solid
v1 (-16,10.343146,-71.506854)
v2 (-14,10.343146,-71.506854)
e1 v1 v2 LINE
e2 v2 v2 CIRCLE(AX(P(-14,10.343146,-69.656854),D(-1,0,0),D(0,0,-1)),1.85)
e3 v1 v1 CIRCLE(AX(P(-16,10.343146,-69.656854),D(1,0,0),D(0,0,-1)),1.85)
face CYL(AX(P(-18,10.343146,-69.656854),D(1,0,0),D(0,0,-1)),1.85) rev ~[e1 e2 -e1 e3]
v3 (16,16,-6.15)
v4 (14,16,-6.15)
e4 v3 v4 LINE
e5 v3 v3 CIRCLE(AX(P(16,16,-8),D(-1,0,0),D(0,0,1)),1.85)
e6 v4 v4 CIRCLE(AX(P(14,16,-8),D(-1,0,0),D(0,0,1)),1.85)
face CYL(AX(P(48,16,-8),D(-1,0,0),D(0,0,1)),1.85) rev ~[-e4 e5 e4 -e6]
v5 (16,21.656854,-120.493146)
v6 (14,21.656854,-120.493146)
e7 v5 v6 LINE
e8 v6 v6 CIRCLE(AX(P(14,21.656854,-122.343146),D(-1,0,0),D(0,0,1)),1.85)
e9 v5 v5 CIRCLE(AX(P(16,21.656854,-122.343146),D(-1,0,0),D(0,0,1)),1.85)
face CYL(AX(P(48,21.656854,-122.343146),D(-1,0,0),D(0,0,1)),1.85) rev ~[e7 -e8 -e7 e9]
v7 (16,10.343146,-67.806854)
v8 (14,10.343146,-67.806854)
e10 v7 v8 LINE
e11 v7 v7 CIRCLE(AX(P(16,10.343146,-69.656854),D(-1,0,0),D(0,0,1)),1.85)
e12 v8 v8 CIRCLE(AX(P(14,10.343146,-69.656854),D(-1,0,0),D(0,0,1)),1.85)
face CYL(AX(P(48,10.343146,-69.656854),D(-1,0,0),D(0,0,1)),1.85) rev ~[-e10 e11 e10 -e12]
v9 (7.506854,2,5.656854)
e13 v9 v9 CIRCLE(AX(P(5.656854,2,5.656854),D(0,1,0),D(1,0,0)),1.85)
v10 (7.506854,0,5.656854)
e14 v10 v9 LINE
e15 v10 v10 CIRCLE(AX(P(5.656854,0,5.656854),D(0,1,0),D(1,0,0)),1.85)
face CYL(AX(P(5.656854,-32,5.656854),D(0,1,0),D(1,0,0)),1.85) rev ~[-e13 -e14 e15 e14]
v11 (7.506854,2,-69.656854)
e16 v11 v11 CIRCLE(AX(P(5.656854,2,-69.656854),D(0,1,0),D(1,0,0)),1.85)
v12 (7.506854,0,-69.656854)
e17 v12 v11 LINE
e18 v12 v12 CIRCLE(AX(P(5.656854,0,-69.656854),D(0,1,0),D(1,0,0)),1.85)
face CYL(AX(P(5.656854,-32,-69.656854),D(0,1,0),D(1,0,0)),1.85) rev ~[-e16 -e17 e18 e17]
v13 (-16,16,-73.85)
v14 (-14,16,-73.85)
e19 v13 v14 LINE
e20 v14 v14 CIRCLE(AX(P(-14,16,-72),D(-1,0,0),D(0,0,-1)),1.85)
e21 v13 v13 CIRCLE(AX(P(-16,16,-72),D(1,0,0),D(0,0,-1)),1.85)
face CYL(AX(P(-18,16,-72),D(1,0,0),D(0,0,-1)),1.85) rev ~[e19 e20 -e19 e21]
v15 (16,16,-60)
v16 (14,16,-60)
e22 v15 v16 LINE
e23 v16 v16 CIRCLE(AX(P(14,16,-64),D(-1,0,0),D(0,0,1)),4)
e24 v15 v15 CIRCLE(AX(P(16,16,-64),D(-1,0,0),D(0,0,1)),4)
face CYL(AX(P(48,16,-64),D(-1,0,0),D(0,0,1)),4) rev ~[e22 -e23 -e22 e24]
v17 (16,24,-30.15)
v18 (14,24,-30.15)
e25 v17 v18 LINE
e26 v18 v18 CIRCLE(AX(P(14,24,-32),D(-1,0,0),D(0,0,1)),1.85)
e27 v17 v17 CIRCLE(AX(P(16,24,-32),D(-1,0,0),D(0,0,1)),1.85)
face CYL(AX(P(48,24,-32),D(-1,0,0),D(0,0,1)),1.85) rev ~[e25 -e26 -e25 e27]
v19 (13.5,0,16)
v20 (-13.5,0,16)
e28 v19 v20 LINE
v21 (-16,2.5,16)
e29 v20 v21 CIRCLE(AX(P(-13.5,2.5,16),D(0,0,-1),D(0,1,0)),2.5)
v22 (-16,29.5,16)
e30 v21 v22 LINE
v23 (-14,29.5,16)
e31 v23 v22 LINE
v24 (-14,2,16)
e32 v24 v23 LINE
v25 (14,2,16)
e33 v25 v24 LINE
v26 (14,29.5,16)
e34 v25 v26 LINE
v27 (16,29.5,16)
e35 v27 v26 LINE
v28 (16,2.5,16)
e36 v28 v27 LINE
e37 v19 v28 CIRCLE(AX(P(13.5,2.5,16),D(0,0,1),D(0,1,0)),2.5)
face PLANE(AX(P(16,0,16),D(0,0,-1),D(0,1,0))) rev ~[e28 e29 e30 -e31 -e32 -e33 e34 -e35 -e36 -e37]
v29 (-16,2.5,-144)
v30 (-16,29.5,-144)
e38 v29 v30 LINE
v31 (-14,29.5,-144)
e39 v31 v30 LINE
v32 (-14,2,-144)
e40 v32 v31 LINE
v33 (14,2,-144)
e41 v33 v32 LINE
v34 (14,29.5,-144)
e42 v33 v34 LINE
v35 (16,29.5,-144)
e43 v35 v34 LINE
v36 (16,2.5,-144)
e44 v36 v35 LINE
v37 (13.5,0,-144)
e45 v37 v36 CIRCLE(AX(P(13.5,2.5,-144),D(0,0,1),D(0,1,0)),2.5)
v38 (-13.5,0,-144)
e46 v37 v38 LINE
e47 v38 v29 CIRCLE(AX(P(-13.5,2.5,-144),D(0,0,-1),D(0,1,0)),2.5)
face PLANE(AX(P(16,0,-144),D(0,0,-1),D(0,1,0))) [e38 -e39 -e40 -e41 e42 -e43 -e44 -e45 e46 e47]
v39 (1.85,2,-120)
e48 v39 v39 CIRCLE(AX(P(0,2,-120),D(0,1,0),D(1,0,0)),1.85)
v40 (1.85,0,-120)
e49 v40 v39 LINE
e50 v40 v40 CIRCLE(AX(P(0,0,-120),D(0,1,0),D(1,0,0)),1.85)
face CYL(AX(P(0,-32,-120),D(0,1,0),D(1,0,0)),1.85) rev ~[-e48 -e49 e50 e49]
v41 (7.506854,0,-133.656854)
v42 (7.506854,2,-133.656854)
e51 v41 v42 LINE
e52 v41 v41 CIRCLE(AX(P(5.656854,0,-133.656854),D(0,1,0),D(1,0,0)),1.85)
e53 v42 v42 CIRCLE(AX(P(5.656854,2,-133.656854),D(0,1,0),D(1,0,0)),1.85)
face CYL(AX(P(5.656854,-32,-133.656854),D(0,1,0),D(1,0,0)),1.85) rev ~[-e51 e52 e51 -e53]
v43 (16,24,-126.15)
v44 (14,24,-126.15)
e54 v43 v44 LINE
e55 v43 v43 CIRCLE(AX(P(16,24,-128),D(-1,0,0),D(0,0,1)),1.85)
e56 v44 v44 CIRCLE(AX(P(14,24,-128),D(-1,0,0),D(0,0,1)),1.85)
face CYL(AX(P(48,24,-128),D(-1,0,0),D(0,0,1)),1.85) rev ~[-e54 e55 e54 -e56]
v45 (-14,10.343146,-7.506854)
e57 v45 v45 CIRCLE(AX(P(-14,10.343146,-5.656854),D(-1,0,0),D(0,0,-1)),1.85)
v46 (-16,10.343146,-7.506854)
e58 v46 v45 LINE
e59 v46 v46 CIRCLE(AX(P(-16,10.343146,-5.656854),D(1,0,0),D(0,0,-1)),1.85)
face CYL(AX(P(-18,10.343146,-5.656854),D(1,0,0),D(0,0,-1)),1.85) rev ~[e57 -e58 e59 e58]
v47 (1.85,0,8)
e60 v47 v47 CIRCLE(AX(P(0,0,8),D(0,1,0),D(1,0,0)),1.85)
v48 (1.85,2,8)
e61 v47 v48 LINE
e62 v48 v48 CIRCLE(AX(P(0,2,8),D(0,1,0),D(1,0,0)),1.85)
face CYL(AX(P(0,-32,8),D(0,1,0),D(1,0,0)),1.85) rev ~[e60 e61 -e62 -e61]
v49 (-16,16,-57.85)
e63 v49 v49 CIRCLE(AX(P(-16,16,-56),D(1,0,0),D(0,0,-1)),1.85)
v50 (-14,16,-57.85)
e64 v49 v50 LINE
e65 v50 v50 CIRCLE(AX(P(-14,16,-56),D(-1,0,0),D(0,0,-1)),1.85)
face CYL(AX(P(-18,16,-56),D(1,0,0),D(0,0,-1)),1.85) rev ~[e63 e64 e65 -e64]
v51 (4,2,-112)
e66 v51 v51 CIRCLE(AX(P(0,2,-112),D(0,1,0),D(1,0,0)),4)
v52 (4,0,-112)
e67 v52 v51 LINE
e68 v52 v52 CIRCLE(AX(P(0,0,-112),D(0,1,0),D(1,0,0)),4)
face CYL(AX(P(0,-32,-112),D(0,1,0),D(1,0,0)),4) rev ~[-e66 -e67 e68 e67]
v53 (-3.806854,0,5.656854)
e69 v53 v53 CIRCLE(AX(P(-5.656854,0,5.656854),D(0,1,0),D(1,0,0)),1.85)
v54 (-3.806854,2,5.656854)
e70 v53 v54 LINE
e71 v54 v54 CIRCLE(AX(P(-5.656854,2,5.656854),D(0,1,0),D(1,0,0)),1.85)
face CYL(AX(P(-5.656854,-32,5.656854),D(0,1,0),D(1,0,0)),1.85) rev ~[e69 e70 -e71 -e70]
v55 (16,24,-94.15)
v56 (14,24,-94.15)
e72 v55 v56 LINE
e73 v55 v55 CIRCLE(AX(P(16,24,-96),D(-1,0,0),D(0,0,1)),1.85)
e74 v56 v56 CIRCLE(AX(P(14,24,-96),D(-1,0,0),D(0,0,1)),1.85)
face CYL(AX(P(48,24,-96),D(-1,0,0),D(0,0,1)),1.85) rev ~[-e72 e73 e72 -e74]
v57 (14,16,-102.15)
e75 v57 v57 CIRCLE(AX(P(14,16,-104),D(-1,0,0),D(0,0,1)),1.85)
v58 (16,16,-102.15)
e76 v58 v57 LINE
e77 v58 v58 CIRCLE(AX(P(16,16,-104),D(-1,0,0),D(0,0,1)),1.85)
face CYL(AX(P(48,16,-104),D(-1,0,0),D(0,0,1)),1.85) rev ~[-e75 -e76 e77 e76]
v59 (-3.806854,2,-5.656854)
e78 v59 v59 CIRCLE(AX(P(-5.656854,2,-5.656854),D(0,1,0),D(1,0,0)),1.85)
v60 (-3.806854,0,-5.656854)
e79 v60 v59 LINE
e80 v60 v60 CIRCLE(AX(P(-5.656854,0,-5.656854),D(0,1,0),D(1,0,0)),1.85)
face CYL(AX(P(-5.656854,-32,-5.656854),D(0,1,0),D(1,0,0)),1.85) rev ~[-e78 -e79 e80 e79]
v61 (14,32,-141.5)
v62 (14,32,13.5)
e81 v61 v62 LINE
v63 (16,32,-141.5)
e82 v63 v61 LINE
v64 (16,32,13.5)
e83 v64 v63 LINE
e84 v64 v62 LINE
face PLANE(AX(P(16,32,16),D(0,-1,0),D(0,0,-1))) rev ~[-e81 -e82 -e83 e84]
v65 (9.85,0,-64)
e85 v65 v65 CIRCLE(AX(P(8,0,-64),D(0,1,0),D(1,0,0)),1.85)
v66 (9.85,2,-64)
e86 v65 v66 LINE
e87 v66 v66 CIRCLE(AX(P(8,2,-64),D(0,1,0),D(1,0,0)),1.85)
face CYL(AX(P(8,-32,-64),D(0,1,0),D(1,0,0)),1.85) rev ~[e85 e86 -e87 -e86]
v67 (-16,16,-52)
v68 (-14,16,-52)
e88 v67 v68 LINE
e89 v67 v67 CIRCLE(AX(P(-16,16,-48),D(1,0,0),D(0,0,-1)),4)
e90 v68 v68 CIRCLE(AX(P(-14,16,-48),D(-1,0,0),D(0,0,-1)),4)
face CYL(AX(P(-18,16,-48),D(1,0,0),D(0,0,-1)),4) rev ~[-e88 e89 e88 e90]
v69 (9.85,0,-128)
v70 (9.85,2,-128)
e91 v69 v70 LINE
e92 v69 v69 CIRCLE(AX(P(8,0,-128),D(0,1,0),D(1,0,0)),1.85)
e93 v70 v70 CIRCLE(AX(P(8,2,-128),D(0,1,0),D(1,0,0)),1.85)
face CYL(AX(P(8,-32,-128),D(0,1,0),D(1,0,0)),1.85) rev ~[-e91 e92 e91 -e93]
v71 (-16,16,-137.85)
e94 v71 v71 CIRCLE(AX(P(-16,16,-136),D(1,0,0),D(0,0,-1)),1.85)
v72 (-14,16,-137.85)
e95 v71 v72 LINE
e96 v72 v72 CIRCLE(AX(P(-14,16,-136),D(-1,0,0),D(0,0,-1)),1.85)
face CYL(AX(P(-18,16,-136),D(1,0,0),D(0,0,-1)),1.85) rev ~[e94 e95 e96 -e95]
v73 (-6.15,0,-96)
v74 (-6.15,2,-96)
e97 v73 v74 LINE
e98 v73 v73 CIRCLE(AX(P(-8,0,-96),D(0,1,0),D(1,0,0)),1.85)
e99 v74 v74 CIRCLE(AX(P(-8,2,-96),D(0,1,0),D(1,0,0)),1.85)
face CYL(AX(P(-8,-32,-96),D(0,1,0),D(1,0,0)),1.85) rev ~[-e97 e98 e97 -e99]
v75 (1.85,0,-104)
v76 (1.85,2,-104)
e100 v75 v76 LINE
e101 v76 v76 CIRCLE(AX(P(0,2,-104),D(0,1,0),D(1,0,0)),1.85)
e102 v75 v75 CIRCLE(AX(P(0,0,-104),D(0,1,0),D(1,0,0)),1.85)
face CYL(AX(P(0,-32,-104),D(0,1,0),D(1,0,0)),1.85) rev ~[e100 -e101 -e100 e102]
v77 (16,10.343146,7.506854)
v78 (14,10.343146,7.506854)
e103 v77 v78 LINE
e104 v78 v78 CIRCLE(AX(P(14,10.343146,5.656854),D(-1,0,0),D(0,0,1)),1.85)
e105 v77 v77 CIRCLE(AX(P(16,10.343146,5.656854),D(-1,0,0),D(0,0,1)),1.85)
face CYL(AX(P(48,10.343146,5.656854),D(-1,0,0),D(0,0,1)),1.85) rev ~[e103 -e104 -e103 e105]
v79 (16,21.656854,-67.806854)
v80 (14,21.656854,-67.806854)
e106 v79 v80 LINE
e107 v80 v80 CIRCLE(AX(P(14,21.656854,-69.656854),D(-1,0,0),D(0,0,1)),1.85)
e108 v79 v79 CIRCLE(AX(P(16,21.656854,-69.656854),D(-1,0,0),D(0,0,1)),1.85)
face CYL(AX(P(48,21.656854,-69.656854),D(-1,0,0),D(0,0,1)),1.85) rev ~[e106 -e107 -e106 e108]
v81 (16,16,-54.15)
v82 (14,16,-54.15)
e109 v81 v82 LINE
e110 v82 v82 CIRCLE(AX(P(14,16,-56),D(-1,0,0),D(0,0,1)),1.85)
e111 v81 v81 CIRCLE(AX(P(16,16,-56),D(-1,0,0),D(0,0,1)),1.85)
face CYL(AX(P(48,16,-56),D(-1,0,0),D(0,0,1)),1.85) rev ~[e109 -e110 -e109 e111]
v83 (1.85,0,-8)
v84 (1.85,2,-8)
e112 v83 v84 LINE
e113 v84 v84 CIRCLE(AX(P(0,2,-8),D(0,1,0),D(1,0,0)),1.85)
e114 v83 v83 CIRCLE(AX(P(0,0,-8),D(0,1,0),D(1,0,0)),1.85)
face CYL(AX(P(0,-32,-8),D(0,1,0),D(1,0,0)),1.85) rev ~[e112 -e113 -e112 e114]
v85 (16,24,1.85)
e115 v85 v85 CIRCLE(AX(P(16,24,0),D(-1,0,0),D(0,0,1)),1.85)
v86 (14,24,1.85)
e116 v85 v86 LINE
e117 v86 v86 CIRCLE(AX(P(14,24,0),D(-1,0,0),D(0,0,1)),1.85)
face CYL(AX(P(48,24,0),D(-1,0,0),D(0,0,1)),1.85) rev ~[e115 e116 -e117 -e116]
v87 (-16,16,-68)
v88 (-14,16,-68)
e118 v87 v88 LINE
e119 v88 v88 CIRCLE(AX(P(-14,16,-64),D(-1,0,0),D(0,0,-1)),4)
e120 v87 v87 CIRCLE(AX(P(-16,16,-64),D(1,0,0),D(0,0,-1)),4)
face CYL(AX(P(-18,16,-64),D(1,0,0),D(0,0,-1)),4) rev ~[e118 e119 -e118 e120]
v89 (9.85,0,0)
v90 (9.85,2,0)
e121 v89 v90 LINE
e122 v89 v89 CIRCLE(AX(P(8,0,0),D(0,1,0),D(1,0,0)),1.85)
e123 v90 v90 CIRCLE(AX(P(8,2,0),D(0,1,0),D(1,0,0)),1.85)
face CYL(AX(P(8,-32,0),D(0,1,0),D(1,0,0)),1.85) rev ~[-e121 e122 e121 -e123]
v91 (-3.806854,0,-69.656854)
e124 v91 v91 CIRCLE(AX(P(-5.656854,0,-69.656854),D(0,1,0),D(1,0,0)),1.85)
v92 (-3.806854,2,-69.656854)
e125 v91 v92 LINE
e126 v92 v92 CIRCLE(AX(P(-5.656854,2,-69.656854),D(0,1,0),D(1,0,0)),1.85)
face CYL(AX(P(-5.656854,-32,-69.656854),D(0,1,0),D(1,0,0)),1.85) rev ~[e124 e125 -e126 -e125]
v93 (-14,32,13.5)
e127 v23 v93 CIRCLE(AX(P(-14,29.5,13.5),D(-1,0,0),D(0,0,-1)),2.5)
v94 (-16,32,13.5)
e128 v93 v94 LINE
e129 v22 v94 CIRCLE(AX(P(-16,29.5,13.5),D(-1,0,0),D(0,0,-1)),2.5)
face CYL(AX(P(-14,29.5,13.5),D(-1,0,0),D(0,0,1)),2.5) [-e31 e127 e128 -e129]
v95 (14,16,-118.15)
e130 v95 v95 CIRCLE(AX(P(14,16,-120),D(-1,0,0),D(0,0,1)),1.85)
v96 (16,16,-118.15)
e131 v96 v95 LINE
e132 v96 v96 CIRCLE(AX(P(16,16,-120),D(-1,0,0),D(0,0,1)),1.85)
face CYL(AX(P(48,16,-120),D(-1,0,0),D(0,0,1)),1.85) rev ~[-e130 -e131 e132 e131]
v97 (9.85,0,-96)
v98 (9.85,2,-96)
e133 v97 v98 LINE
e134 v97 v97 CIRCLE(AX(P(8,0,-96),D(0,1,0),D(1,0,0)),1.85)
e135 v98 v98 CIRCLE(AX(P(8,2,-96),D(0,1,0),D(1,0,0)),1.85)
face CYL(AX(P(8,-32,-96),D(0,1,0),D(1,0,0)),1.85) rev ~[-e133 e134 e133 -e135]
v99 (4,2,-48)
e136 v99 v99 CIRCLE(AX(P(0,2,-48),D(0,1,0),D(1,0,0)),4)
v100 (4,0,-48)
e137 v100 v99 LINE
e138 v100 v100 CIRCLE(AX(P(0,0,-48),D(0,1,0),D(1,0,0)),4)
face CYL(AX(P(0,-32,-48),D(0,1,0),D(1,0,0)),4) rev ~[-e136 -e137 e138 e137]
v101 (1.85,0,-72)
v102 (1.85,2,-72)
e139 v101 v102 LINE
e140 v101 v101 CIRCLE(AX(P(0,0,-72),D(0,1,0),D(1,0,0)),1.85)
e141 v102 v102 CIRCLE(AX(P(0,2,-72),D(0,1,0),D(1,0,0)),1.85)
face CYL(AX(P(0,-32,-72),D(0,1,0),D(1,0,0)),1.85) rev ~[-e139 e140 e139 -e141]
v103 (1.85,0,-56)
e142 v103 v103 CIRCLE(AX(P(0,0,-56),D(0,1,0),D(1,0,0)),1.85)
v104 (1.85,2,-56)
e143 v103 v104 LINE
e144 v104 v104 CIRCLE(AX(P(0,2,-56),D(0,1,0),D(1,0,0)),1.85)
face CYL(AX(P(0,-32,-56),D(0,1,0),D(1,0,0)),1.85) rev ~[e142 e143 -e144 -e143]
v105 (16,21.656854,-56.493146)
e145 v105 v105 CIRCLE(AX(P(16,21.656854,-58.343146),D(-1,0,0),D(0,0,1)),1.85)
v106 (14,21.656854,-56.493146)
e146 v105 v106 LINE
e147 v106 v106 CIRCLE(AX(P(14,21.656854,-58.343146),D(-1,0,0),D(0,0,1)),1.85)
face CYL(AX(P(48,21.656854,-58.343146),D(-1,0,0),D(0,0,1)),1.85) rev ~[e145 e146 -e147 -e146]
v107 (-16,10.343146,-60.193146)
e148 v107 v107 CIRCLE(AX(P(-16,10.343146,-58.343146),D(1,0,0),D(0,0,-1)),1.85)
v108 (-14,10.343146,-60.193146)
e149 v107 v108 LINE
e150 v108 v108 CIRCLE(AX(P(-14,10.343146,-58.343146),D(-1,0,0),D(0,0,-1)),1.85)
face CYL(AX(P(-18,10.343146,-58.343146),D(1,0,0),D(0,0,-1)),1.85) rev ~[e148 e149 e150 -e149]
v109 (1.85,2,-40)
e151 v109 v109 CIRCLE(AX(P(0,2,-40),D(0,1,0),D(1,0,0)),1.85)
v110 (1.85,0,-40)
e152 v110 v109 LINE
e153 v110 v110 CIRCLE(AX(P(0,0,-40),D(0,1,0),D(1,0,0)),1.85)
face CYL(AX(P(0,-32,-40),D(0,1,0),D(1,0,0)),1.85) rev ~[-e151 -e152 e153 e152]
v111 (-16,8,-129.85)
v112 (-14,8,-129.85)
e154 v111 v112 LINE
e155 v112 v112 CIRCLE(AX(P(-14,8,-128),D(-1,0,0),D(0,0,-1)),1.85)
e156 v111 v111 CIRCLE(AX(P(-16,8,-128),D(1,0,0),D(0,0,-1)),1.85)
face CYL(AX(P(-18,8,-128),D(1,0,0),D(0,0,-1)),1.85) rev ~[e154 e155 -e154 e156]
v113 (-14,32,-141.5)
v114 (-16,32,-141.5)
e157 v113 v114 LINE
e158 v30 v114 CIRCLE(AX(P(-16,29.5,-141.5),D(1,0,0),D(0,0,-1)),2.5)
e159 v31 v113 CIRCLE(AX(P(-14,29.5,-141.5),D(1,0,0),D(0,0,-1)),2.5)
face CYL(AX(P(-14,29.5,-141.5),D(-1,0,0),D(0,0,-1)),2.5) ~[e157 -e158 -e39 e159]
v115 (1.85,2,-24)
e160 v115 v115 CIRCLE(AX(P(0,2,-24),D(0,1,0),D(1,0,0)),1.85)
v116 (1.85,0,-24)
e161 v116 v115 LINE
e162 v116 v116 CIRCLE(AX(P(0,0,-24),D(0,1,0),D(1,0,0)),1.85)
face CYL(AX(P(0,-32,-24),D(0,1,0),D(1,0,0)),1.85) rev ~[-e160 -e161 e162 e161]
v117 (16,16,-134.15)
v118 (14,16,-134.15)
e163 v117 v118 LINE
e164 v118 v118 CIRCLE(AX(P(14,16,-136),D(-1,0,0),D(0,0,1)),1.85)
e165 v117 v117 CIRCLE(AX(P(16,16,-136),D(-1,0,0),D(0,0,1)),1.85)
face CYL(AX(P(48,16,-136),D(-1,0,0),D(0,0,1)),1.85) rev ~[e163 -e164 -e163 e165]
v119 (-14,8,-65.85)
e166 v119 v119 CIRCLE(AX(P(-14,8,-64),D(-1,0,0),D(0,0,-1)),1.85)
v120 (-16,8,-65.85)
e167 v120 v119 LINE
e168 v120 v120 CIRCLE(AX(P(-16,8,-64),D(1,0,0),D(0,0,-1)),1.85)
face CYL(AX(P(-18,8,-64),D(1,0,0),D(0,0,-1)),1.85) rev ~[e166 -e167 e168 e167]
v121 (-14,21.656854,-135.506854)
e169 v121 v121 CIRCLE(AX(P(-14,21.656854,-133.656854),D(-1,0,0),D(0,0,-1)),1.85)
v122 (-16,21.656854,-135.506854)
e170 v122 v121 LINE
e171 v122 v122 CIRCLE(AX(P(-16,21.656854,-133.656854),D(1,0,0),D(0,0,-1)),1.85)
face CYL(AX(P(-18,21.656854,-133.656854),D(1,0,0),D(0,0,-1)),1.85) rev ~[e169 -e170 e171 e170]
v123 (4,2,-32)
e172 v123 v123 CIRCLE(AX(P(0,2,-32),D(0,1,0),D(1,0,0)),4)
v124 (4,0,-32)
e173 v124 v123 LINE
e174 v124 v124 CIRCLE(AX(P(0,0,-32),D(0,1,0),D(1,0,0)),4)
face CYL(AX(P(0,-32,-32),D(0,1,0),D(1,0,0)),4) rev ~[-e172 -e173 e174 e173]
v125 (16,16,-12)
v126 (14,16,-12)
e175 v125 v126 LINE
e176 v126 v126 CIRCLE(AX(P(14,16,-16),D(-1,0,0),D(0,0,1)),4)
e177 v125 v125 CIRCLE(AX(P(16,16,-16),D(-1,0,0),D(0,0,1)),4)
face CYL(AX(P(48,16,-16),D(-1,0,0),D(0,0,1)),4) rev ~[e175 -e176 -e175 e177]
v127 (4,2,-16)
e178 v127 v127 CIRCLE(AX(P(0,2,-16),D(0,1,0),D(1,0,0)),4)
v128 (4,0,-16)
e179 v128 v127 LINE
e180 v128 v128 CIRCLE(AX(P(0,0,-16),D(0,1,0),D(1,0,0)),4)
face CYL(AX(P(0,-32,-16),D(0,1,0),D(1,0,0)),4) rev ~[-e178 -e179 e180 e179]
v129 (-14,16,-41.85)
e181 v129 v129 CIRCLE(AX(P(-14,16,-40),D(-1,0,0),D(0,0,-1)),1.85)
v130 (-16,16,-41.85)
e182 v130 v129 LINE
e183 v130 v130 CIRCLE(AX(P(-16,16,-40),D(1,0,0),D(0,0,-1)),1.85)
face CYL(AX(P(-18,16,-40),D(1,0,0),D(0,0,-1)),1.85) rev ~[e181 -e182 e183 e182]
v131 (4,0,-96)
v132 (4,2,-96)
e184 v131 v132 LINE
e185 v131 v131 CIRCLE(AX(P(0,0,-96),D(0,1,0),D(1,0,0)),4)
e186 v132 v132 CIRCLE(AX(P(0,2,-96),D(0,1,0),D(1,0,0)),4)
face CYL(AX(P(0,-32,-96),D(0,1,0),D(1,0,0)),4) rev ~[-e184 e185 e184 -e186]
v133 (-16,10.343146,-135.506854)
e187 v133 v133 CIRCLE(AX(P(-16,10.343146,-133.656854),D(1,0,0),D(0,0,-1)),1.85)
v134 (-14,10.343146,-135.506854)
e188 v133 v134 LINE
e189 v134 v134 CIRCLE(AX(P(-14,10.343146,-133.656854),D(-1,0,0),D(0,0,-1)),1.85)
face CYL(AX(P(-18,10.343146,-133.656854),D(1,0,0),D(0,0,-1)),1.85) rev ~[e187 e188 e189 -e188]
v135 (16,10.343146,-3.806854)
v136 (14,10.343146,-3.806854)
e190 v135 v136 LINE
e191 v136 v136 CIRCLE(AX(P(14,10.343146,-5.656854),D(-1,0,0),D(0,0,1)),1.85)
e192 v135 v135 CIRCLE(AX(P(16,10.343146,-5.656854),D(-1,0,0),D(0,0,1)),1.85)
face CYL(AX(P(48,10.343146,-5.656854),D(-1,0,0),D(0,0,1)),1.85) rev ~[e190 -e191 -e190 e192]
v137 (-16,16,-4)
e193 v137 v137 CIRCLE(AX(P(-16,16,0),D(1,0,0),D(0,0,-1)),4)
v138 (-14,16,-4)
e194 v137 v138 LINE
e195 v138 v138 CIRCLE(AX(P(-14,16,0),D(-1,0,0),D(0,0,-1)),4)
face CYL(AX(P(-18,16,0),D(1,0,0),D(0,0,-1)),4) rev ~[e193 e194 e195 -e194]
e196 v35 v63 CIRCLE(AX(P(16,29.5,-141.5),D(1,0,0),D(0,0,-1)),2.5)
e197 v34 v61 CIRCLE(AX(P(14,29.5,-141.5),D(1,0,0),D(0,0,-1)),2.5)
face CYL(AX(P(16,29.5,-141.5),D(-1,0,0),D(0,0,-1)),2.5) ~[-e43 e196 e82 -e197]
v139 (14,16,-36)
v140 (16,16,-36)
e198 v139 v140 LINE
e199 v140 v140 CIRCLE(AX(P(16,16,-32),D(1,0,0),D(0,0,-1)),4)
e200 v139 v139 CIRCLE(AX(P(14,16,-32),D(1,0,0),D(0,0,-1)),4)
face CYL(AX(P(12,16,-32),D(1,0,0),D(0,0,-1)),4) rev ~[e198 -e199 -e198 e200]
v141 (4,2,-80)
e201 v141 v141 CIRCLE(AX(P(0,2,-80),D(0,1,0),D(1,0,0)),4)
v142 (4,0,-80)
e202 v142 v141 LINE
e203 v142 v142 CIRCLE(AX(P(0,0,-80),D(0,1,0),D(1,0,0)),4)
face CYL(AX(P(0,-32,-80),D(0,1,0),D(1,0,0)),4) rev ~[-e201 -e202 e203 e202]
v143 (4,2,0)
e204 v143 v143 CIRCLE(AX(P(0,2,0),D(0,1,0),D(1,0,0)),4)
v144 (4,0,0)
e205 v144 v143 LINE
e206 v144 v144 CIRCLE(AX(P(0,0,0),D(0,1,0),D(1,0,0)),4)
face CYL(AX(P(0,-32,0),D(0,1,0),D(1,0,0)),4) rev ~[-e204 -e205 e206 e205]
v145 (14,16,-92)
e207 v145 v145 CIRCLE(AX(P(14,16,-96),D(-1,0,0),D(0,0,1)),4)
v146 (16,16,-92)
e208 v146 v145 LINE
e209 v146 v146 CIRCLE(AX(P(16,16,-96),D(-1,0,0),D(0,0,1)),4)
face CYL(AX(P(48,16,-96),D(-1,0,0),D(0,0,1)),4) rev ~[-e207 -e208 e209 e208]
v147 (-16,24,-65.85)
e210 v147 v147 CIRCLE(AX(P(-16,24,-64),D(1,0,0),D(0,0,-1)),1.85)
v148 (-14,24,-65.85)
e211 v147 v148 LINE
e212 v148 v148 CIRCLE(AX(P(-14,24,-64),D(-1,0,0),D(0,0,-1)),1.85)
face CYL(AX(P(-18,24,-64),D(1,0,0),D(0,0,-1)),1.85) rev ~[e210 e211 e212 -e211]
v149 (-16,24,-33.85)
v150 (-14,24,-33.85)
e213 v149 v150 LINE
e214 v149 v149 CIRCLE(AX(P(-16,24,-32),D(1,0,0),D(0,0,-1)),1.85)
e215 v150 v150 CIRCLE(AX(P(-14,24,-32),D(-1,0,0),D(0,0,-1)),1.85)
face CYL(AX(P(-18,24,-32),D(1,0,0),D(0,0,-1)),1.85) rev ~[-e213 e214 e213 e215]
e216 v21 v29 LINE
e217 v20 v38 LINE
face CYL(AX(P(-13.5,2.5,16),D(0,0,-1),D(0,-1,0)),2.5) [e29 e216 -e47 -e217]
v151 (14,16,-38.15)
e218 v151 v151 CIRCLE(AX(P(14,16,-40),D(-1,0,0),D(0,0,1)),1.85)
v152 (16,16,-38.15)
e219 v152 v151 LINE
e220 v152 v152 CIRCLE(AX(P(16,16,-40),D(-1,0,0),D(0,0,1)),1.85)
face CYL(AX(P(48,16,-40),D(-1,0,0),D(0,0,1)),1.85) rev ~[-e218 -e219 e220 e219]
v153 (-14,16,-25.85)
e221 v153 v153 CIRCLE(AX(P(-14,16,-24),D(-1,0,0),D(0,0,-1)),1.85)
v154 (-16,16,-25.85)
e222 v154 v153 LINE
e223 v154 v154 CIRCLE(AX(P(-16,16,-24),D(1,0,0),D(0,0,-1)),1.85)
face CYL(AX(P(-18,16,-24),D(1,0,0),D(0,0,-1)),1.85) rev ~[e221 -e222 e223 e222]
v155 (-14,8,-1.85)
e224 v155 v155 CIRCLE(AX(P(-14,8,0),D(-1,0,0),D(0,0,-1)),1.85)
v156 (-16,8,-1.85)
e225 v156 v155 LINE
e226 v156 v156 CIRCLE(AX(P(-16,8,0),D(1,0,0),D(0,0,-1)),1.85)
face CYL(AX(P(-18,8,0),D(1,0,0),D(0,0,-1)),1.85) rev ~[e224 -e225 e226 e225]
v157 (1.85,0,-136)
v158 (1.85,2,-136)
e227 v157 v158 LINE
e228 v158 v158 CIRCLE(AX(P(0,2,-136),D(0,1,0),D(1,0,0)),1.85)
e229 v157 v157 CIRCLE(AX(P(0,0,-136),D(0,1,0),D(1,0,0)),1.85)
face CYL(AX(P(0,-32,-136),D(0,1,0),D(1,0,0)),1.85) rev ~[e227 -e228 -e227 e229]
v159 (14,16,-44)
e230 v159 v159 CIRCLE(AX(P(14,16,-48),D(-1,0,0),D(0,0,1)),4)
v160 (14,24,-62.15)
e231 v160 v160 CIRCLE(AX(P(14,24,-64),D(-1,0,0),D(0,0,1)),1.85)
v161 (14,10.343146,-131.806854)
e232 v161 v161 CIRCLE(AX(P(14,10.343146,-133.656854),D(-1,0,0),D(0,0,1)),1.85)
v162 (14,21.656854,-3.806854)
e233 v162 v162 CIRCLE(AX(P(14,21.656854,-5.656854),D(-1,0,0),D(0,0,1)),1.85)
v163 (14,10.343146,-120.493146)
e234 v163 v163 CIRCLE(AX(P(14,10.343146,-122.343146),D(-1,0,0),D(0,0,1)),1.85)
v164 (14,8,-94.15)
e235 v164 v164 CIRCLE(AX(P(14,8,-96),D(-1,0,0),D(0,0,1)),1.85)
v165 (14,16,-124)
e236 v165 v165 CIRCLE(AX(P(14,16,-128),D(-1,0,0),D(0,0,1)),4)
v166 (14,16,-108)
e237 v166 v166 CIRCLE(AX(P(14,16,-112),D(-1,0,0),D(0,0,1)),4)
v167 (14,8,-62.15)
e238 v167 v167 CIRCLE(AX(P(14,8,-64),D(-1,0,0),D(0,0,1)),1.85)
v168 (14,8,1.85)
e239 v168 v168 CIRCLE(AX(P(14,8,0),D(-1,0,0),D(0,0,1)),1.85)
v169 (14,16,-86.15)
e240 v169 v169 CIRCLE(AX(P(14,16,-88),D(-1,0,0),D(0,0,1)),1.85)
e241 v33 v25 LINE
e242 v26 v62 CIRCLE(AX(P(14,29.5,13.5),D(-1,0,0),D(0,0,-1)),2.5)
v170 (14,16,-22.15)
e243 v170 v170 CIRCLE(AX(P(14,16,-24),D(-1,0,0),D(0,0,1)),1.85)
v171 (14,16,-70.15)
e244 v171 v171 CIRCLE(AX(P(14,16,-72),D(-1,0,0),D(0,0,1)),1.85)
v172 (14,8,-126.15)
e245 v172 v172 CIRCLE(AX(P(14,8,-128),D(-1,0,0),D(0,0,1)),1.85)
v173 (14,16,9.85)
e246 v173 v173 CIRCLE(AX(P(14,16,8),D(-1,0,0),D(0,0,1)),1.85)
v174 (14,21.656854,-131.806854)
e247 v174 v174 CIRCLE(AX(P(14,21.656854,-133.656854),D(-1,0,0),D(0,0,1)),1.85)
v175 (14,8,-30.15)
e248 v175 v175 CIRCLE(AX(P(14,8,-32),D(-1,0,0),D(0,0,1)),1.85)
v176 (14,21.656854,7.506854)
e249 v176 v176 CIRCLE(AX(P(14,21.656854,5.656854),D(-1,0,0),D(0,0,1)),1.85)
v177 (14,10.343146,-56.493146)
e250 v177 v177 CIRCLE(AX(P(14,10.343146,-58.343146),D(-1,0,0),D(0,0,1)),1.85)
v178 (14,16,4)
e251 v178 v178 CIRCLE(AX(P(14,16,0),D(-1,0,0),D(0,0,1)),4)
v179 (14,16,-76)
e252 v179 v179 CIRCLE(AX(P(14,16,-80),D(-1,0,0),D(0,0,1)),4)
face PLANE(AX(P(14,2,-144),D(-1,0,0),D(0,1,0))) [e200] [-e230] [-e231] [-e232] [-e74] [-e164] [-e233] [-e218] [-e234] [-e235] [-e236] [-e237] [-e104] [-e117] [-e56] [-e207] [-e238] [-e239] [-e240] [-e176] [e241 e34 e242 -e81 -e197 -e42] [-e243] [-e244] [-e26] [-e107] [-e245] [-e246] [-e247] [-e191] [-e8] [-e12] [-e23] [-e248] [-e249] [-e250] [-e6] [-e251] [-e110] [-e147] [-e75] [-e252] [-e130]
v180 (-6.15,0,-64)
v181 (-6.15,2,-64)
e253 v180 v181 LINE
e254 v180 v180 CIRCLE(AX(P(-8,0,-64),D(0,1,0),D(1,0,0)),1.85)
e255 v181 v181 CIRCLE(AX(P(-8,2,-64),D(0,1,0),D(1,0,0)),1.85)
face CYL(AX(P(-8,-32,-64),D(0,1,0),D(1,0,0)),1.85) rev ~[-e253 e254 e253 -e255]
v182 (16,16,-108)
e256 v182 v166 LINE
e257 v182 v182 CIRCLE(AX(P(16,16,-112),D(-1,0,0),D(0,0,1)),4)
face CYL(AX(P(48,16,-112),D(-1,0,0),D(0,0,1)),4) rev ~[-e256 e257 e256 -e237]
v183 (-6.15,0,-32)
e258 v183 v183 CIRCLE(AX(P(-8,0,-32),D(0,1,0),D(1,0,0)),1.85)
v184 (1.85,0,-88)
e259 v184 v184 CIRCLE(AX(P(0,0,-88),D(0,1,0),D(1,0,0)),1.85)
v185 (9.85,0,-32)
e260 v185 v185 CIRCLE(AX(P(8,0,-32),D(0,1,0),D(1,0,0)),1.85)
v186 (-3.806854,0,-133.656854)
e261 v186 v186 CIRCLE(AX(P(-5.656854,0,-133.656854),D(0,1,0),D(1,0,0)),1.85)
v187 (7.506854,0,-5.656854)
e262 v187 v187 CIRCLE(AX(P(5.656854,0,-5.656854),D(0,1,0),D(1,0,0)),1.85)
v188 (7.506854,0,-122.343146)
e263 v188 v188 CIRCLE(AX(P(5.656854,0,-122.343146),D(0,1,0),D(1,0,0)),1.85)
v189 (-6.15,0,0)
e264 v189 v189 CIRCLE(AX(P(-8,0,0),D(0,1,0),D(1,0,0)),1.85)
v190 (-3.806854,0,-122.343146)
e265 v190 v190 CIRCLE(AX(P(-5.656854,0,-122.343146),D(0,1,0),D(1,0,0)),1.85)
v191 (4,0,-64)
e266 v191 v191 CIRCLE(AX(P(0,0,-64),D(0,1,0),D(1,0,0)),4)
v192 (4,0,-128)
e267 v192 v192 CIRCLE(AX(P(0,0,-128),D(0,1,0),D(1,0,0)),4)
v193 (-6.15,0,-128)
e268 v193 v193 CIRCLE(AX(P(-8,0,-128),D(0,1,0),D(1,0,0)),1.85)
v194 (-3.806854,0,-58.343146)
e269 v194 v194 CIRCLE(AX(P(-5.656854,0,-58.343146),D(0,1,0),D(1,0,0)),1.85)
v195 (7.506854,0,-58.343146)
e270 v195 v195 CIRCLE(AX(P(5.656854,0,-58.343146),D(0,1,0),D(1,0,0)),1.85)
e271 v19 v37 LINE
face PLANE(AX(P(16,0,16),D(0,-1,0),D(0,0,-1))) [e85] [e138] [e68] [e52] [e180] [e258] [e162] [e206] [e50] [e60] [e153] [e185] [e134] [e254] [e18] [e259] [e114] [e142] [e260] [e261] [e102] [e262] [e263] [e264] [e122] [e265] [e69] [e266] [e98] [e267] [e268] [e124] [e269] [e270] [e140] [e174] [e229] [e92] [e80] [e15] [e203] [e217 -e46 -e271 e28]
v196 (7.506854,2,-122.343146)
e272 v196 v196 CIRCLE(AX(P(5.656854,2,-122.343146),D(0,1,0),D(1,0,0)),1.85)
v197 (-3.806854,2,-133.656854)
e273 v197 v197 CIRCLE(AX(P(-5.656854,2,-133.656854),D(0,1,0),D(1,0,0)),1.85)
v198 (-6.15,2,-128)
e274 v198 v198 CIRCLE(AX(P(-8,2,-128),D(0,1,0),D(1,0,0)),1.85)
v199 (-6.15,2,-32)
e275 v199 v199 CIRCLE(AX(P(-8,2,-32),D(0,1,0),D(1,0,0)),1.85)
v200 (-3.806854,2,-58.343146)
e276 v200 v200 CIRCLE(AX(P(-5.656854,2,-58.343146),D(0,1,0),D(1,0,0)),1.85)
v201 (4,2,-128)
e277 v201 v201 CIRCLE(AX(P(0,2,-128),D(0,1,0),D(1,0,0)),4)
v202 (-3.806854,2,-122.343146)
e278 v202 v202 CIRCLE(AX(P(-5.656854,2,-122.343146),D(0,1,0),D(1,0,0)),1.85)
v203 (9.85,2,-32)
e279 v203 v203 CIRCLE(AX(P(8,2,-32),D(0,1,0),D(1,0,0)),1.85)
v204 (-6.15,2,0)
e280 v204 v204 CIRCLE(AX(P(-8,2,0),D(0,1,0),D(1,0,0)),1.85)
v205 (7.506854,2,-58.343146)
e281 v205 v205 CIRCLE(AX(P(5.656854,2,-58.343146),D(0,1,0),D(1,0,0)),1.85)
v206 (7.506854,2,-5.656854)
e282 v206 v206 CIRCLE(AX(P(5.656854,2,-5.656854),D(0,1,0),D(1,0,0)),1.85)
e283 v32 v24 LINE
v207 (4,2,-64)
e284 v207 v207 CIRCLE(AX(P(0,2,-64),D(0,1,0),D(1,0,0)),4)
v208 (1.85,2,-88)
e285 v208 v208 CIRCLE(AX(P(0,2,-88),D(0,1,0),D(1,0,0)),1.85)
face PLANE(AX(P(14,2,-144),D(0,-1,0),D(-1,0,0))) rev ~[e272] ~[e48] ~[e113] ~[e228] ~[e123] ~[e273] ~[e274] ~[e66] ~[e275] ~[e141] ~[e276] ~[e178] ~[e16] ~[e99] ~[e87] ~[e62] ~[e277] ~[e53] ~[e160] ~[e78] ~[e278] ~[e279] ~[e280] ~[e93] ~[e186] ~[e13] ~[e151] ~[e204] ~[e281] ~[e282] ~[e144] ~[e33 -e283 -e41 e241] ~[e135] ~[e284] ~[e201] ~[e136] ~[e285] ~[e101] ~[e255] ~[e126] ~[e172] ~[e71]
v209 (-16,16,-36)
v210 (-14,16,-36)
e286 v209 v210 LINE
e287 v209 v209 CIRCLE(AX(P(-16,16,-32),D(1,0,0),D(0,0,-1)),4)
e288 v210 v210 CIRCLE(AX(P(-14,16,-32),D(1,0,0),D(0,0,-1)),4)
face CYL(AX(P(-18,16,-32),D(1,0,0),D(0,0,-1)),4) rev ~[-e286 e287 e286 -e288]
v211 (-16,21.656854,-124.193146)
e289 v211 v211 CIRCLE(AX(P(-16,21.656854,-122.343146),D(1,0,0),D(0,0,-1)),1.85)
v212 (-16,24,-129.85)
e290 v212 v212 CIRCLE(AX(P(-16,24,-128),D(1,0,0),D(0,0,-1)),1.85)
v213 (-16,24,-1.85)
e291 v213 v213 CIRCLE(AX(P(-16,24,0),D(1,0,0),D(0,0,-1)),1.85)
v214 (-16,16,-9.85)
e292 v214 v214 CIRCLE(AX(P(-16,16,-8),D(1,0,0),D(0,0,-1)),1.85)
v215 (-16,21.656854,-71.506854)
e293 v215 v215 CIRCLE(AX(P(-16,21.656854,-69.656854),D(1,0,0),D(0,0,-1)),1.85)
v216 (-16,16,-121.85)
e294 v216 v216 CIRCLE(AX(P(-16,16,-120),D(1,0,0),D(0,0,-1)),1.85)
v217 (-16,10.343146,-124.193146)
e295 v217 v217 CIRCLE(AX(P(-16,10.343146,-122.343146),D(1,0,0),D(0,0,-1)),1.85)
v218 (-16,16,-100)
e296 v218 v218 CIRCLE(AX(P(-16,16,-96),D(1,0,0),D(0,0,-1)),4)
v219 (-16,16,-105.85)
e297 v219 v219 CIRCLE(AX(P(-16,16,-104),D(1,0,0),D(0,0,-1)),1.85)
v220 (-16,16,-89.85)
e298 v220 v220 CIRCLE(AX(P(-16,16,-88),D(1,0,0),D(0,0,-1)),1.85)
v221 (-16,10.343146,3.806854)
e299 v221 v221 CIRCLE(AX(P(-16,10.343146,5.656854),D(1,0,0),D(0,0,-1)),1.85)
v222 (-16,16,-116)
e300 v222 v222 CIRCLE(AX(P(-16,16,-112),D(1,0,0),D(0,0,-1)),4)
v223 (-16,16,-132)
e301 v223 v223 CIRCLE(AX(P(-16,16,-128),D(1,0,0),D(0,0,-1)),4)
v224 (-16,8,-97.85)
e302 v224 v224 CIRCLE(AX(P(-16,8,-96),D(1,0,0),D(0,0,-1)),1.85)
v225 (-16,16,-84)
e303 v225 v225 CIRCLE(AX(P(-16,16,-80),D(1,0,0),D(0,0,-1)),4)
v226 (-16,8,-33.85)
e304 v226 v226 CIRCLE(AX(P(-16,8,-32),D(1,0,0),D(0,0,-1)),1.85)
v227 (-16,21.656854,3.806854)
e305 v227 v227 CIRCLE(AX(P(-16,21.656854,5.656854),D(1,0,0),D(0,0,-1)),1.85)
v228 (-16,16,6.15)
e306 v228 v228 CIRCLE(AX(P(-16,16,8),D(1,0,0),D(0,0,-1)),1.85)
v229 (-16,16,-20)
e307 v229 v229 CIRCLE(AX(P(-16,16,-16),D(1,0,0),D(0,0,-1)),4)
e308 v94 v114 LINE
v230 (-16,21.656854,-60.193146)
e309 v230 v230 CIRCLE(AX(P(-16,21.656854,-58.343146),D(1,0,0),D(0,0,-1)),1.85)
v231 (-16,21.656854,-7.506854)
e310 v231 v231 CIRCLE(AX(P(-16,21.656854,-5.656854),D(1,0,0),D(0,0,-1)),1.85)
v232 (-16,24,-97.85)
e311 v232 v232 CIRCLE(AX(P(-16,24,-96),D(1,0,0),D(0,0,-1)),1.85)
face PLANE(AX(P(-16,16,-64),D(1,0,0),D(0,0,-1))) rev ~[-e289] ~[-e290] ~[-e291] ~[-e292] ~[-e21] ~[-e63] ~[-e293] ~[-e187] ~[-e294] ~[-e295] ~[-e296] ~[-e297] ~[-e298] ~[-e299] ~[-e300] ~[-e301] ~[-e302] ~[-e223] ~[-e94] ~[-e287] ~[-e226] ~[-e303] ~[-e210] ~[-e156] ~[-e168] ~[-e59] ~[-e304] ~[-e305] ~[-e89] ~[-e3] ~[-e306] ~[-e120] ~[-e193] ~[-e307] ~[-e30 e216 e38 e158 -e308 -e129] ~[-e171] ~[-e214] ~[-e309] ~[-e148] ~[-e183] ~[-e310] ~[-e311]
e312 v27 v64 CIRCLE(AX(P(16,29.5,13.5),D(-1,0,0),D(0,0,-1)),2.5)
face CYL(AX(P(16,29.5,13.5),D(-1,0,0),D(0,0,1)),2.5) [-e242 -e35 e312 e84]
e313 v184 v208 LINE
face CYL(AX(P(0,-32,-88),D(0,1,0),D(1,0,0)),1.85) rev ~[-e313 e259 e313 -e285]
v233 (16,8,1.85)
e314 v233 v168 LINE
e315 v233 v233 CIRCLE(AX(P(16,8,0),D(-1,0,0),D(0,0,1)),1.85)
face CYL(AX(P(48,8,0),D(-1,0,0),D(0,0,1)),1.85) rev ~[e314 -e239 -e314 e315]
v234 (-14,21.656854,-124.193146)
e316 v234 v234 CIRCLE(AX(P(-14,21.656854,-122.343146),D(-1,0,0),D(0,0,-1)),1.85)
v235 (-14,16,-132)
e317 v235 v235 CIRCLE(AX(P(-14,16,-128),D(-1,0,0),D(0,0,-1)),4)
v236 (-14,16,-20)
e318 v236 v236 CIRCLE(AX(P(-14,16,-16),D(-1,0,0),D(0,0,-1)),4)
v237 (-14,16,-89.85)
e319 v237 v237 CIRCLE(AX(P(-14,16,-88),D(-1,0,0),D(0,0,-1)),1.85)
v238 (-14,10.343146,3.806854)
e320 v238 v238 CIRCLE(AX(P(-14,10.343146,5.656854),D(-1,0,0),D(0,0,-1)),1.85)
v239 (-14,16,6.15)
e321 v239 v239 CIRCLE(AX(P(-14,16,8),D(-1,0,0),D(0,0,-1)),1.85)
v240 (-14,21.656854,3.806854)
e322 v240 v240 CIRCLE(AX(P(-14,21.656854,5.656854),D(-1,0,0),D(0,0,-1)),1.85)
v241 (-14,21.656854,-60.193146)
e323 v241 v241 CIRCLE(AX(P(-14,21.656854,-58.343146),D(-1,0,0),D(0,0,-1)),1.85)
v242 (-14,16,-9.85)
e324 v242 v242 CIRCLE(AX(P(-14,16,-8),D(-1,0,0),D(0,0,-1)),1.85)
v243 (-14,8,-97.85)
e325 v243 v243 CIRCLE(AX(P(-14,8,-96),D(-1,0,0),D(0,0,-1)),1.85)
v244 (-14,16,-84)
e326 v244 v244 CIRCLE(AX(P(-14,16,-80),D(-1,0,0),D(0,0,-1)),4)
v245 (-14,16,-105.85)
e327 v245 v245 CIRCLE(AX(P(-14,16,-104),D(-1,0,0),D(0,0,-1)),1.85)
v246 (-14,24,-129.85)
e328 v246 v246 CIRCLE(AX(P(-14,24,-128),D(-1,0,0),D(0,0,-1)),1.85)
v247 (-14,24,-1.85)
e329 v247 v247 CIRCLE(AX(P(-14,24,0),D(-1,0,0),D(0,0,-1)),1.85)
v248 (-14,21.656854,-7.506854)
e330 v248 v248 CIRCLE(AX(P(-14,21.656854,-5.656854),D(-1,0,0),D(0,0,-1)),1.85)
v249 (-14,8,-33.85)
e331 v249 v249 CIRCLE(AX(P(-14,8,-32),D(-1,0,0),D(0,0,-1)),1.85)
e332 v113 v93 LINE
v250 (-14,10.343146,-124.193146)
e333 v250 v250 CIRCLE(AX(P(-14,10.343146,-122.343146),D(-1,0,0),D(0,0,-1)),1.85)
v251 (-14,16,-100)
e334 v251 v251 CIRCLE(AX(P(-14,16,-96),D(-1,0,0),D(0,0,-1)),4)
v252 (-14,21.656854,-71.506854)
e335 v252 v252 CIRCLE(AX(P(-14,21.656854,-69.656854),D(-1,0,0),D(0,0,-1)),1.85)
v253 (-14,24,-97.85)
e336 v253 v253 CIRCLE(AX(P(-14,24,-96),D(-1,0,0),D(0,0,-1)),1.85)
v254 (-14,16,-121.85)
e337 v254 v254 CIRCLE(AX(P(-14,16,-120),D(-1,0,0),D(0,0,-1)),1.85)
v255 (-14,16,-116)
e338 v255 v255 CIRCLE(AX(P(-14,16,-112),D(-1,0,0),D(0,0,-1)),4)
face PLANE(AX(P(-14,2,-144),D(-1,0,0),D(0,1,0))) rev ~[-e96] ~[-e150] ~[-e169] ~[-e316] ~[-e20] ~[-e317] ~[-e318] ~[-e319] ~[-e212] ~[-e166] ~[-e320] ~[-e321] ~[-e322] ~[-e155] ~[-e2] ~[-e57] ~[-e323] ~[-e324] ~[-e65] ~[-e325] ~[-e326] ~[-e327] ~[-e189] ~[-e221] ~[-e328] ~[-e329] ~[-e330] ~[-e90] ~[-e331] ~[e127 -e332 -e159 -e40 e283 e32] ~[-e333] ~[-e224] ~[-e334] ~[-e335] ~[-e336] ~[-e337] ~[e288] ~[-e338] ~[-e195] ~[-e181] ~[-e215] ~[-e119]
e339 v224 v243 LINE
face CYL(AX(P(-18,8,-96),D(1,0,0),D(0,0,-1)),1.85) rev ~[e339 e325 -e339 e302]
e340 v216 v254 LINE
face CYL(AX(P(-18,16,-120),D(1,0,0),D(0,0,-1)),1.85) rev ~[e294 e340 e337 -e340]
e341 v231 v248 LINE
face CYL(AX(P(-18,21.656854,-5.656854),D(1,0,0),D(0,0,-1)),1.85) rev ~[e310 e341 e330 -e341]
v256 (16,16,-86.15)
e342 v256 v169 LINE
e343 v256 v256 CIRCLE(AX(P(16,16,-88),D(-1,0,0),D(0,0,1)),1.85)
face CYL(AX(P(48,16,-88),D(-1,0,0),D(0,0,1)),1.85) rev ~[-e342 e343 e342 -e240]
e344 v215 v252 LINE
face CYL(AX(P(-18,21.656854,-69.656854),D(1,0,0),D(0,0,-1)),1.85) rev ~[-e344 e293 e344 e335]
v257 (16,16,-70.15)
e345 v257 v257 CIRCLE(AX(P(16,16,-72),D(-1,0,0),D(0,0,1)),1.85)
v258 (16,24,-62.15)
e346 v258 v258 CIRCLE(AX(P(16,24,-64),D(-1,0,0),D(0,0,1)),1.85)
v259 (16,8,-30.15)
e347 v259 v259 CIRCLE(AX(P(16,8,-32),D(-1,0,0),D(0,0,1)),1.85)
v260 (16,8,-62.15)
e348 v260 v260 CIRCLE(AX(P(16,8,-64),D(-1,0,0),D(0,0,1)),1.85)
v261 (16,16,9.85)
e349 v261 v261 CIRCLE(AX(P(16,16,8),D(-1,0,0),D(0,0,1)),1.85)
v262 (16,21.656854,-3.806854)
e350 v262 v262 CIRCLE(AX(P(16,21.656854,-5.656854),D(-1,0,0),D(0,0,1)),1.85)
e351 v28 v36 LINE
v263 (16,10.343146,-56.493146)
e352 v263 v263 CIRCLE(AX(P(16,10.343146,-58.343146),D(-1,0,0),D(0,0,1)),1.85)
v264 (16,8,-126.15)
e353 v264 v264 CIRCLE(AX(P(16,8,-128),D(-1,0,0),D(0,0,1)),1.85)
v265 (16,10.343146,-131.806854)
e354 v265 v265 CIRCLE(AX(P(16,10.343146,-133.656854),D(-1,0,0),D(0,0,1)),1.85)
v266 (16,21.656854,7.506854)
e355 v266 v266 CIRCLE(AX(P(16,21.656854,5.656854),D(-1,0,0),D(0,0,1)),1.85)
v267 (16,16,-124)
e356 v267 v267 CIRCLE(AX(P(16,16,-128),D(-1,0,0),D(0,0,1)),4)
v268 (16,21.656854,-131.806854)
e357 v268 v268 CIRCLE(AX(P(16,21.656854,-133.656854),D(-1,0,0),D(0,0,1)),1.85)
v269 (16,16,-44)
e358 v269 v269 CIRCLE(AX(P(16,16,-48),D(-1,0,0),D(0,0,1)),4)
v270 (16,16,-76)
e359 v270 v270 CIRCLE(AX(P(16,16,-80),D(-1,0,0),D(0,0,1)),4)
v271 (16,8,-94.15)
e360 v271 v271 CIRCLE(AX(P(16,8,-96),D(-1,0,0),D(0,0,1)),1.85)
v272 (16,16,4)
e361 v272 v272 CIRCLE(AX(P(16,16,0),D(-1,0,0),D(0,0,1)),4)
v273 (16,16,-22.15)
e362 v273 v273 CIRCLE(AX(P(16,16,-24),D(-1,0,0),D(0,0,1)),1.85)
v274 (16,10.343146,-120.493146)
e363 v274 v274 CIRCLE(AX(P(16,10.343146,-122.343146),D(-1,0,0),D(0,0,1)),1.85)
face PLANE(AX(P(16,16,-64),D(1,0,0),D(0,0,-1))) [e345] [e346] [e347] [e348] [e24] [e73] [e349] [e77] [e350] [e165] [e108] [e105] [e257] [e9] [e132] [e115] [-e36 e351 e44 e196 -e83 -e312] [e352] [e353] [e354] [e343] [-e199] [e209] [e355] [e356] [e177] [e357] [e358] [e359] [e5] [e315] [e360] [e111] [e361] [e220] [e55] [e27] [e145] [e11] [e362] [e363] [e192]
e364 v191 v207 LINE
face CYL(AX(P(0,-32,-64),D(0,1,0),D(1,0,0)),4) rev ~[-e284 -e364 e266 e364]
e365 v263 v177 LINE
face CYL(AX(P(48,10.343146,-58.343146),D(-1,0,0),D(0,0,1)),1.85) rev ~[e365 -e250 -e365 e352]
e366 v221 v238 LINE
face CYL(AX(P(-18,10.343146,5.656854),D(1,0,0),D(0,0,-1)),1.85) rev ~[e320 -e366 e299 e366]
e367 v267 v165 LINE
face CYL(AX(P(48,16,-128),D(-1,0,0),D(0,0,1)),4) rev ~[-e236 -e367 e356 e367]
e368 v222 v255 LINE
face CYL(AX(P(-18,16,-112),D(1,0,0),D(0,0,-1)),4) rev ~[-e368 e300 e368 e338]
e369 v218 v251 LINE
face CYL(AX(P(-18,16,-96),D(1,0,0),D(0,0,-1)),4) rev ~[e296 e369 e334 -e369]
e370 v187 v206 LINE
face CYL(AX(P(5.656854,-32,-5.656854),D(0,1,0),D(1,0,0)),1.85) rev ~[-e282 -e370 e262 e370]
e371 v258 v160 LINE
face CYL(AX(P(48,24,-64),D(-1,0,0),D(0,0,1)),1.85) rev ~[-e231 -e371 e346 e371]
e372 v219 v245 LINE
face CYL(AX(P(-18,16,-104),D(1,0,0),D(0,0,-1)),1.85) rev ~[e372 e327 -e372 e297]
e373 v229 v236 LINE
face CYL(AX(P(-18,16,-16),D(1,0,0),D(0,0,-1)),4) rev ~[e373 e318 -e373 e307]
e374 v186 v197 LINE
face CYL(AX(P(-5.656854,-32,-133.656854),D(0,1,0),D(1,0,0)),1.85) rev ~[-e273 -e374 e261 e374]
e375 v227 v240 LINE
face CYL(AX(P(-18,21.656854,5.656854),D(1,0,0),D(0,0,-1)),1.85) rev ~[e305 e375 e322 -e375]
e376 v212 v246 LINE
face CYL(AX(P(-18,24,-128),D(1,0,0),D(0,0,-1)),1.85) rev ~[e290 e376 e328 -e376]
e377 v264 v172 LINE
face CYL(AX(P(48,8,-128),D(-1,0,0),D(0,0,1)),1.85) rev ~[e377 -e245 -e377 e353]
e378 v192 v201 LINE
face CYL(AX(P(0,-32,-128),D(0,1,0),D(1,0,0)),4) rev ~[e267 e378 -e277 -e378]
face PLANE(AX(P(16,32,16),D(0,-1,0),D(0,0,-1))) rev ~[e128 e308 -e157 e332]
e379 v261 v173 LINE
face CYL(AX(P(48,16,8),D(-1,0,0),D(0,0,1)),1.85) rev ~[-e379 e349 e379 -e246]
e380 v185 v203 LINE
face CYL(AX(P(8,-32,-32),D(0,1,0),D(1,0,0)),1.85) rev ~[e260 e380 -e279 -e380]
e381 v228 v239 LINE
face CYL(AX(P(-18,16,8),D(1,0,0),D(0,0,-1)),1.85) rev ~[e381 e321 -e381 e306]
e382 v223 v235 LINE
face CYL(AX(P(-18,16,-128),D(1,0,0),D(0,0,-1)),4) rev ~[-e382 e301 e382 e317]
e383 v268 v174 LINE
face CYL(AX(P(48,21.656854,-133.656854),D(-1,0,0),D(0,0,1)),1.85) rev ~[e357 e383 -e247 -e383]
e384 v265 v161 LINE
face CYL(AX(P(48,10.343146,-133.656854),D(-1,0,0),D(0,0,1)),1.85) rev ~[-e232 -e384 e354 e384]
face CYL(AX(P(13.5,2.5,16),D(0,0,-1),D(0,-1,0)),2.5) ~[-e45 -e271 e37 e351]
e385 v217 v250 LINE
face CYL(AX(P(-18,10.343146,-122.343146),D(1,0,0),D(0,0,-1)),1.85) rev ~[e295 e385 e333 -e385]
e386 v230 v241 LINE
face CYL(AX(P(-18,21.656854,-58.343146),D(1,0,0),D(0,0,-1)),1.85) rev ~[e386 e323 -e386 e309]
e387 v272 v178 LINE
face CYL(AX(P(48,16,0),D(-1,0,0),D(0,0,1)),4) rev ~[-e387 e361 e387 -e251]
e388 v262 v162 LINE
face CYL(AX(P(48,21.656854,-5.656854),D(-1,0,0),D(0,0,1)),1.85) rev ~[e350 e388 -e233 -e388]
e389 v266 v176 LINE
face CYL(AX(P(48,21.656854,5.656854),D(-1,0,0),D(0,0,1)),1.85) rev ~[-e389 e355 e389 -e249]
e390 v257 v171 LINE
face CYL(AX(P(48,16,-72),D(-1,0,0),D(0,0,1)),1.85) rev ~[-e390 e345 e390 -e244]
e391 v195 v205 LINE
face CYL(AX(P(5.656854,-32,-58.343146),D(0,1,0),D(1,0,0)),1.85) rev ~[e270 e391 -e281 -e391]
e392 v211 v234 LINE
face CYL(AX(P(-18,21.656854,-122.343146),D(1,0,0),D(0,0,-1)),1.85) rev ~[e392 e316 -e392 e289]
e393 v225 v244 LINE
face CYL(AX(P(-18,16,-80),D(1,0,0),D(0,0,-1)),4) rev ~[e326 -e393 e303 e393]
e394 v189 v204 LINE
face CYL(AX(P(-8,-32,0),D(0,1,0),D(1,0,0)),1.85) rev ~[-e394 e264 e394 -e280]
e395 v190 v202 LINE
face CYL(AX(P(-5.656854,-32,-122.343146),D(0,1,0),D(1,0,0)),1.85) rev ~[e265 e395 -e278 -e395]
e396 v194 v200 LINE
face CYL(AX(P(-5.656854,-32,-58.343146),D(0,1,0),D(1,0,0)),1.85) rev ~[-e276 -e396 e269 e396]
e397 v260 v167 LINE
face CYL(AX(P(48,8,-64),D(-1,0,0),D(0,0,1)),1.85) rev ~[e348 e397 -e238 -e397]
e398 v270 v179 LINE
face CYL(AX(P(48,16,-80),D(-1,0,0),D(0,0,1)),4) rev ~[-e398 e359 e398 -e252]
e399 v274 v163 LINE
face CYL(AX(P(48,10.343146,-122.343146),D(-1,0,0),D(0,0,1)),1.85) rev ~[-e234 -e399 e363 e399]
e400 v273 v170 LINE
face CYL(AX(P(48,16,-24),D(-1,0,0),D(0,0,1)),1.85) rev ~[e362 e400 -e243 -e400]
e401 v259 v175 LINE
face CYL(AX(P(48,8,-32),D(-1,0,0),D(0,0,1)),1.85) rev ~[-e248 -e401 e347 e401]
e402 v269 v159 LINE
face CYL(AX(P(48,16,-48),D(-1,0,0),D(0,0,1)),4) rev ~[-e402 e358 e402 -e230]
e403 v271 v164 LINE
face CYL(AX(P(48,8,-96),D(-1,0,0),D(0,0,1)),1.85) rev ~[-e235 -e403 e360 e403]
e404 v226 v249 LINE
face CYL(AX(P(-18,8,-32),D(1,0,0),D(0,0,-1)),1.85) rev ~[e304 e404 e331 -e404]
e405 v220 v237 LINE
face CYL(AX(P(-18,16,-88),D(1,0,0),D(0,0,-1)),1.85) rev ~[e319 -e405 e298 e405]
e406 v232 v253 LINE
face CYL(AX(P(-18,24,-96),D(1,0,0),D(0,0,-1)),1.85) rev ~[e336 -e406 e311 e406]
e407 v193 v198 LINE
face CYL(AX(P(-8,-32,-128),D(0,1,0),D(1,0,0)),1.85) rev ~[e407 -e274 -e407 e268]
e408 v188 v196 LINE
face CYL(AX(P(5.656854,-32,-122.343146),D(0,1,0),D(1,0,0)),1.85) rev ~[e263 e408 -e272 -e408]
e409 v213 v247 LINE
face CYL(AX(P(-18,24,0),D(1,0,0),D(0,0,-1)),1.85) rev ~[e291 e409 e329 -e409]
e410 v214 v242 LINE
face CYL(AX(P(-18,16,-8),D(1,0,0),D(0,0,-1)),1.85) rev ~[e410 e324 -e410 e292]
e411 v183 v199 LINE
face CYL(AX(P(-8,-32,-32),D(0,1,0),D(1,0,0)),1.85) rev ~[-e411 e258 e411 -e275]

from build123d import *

# Parameters (mm, degrees)
SKETCH1_W                      = 160
SKETCH1_H                      = 32
BOSS_EXTRUDE1_DEPTH            = 32
SKETCH2_W                      = 28
SKETCH2_H                      = 30
CUT_EXTRUDE1_DEPTH             = 161
F_8_0_8_DIAMETER_HOLE1_D       = 8
F_8_0_8_DIAMETER_HOLE1_DEPTH   = 2
F_3_7_3_7_DIAMETER_HOLE1_D     = 3.7
F_3_7_3_7_DIAMETER_HOLE1_DEPTH = 2
F_3_7_3_7_DIAMETER_HOLE2_D     = 3.7
F_3_7_3_7_DIAMETER_HOLE2_DEPTH = 32
F_8_0_8_DIAMETER_HOLE2_D       = 8
F_8_0_8_DIAMETER_HOLE2_DEPTH   = 32
F_8_0_8_DIAMETER_HOLE3_D       = 8
F_8_0_8_DIAMETER_HOLE3_DEPTH   = 2
F_8_0_8_DIAMETER_HOLE4_D       = 8
F_8_0_8_DIAMETER_HOLE4_DEPTH   = 32
F_3_7_3_7_DIAMETER_HOLE3_D     = 3.7
F_3_7_3_7_DIAMETER_HOLE3_DEPTH = 32
FILLET1_R                      = 2.5


with BuildPart() as part:
    # Sketch1 → Boss-Extrude1 (new body)
    with BuildSketch(Plane(origin=(16, 0, 0), x_dir=(0, 0, -1), z_dir=(1, 0, 0))):
        with Locations((64, 16)):
            Rectangle(SKETCH1_W, SKETCH1_H)
    extrude(amount=-BOSS_EXTRUDE1_DEPTH)

    # Sketch2 → Cut-Extrude1 (cut, through all)
    with BuildSketch(Plane(origin=(0, 0, -144), x_dir=(-1, 0, 0), z_dir=(0, 0, -1))):
        with Locations((0, 17)):
            Rectangle(SKETCH2_W, SKETCH2_H)
    extrude(amount=-CUT_EXTRUDE1_DEPTH, mode=Mode.SUBTRACT)

    # Ø8.0 (8) Diameter Hole1
    with Locations(Plane.ZY.offset(16)):
        with Locations((-64, 16), (-128, 16), (-32, 16), (-96, 16), (-16, 16), (-48, 16), (-80, 16), (-112, 16), (0, 16)):
            Hole(F_8_0_8_DIAMETER_HOLE1_D / 2, depth=F_8_0_8_DIAMETER_HOLE1_DEPTH)

    # Ø3.7 (3.7) Diameter Hole1
    with Locations(Plane.ZY.offset(16)):
        with Locations((0, 24), (0, 8), (-8, 16), (8, 16), (-5.656854249, 21.656854249), (5.656854249, 21.656854249), (5.656854249, 10.343145751), (-5.656854249, 10.343145751), (-64, 24), (-64, 8), (-72, 16), (-56, 16), (-69.656854249, 21.656854249), (-58.343145751, 21.656854249), (-58.343145751, 10.343145751), (-69.656854249, 10.343145751), (-128, 24), (-128, 8), (-136, 16), (-120, 16), (-133.656854249, 21.656854249), (-122.34314575, 21.656854249), (-122.34314575, 10.343145751), (-133.656854249, 10.343145751), (-32, 24), (-40, 16), (-32, 8), (-24, 16), (-96, 24), (-104, 16), (-96, 8), (-88, 16)):
            Hole(F_3_7_3_7_DIAMETER_HOLE1_D / 2, depth=F_3_7_3_7_DIAMETER_HOLE1_DEPTH)

    # Ø3.7 (3.7) Diameter Hole2
    with Locations(Plane(origin=(0, 0, 0), x_dir=(-1, 0, 0), z_dir=(0, -1, 0))):
        with Locations((8, 0), (5.656854249, 5.656854249), (0, 8), (-5.656854249, 5.656854249), (-8, 0), (-5.656854249, -5.656854249), (0, -8), (5.656854249, -5.656854249), (8, 64), (5.656854249, 69.656854249), (0, 72), (-5.656854249, 69.656854249), (-8, 64), (-5.656854249, 58.343145751), (0, 56), (5.656854249, 58.343145751), (8, 128), (5.656854249, 133.656854249), (0, 136), (-5.656854249, 133.656854249), (-8, 128), (-5.656854249, 122.34314575), (0, 120), (5.656854249, 122.34314575), (8, 32), (0, 40), (-8, 32), (0, 24), (8, 96), (0, 104), (-8, 96), (0, 88)):
            Hole(F_3_7_3_7_DIAMETER_HOLE2_D / 2, depth=F_3_7_3_7_DIAMETER_HOLE2_DEPTH)

    # Ø8.0 (8) Diameter Hole2
    with Locations(Plane(origin=(0, 0, 0), x_dir=(-1, 0, 0), z_dir=(0, -1, 0))):
        with Locations((0, 0), (0, 64), (0, 128), (0, 32), (0, 96), (0, 16), (0, 48), (0, 80), (0, 112)):
            Hole(F_8_0_8_DIAMETER_HOLE2_D / 2, depth=F_8_0_8_DIAMETER_HOLE2_DEPTH)

    # Ø8.0 (8) Diameter Hole3
    with Locations(Plane.ZY.offset(-14)):
        with Locations((-32, 16)):
            Hole(F_8_0_8_DIAMETER_HOLE3_D / 2, depth=F_8_0_8_DIAMETER_HOLE3_DEPTH)

    # Ø8.0 (8) Diameter Hole4
    with Locations(Plane(origin=(16, 0, 0), x_dir=(0, 0, -1), z_dir=(1, 0, 0))):
        with Locations((64, 16), (128, 16), (96, 16), (16, 16), (48, 16), (80, 16), (112, 16), (0, 16)):
            Hole(F_8_0_8_DIAMETER_HOLE4_D / 2, depth=F_8_0_8_DIAMETER_HOLE4_DEPTH)

    # Ø3.7 (3.7) Diameter Hole3
    with Locations(Plane(origin=(16, 0, 0), x_dir=(0, 0, -1), z_dir=(1, 0, 0))):
        with Locations((0, 24), (0, 8), (8, 16), (-8, 16), (5.656854249, 21.656854249), (-5.656854249, 21.656854249), (-5.656854249, 10.343145751), (5.656854249, 10.343145751), (64, 24), (64, 8), (72, 16), (56, 16), (69.656854249, 21.656854249), (58.343145751, 21.656854249), (58.343145751, 10.343145751), (69.656854249, 10.343145751), (128, 24), (128, 8), (136, 16), (120, 16), (133.656854249, 21.656854249), (122.34314575, 21.656854249), (122.34314575, 10.343145751), (133.656854249, 10.343145751), (32, 24), (40, 16), (32, 8), (24, 16), (96, 24), (104, 16), (96, 8), (88, 16)):
            Hole(F_3_7_3_7_DIAMETER_HOLE3_D / 2, depth=F_3_7_3_7_DIAMETER_HOLE3_DEPTH)

    # Fillet1
    fillet1_edges = [part.edges().sort_by_distance(p)[0] for p in [
        (-16, 0, -64),
        (15, 32, 16),
        (15, 32, -144),
        (16, 0, -64),
        (-15, 32, -144),
        (-15, 32, 16),
    ]]
    fillet(fillet1_edges, radius=FILLET1_R)


solid = part.part
